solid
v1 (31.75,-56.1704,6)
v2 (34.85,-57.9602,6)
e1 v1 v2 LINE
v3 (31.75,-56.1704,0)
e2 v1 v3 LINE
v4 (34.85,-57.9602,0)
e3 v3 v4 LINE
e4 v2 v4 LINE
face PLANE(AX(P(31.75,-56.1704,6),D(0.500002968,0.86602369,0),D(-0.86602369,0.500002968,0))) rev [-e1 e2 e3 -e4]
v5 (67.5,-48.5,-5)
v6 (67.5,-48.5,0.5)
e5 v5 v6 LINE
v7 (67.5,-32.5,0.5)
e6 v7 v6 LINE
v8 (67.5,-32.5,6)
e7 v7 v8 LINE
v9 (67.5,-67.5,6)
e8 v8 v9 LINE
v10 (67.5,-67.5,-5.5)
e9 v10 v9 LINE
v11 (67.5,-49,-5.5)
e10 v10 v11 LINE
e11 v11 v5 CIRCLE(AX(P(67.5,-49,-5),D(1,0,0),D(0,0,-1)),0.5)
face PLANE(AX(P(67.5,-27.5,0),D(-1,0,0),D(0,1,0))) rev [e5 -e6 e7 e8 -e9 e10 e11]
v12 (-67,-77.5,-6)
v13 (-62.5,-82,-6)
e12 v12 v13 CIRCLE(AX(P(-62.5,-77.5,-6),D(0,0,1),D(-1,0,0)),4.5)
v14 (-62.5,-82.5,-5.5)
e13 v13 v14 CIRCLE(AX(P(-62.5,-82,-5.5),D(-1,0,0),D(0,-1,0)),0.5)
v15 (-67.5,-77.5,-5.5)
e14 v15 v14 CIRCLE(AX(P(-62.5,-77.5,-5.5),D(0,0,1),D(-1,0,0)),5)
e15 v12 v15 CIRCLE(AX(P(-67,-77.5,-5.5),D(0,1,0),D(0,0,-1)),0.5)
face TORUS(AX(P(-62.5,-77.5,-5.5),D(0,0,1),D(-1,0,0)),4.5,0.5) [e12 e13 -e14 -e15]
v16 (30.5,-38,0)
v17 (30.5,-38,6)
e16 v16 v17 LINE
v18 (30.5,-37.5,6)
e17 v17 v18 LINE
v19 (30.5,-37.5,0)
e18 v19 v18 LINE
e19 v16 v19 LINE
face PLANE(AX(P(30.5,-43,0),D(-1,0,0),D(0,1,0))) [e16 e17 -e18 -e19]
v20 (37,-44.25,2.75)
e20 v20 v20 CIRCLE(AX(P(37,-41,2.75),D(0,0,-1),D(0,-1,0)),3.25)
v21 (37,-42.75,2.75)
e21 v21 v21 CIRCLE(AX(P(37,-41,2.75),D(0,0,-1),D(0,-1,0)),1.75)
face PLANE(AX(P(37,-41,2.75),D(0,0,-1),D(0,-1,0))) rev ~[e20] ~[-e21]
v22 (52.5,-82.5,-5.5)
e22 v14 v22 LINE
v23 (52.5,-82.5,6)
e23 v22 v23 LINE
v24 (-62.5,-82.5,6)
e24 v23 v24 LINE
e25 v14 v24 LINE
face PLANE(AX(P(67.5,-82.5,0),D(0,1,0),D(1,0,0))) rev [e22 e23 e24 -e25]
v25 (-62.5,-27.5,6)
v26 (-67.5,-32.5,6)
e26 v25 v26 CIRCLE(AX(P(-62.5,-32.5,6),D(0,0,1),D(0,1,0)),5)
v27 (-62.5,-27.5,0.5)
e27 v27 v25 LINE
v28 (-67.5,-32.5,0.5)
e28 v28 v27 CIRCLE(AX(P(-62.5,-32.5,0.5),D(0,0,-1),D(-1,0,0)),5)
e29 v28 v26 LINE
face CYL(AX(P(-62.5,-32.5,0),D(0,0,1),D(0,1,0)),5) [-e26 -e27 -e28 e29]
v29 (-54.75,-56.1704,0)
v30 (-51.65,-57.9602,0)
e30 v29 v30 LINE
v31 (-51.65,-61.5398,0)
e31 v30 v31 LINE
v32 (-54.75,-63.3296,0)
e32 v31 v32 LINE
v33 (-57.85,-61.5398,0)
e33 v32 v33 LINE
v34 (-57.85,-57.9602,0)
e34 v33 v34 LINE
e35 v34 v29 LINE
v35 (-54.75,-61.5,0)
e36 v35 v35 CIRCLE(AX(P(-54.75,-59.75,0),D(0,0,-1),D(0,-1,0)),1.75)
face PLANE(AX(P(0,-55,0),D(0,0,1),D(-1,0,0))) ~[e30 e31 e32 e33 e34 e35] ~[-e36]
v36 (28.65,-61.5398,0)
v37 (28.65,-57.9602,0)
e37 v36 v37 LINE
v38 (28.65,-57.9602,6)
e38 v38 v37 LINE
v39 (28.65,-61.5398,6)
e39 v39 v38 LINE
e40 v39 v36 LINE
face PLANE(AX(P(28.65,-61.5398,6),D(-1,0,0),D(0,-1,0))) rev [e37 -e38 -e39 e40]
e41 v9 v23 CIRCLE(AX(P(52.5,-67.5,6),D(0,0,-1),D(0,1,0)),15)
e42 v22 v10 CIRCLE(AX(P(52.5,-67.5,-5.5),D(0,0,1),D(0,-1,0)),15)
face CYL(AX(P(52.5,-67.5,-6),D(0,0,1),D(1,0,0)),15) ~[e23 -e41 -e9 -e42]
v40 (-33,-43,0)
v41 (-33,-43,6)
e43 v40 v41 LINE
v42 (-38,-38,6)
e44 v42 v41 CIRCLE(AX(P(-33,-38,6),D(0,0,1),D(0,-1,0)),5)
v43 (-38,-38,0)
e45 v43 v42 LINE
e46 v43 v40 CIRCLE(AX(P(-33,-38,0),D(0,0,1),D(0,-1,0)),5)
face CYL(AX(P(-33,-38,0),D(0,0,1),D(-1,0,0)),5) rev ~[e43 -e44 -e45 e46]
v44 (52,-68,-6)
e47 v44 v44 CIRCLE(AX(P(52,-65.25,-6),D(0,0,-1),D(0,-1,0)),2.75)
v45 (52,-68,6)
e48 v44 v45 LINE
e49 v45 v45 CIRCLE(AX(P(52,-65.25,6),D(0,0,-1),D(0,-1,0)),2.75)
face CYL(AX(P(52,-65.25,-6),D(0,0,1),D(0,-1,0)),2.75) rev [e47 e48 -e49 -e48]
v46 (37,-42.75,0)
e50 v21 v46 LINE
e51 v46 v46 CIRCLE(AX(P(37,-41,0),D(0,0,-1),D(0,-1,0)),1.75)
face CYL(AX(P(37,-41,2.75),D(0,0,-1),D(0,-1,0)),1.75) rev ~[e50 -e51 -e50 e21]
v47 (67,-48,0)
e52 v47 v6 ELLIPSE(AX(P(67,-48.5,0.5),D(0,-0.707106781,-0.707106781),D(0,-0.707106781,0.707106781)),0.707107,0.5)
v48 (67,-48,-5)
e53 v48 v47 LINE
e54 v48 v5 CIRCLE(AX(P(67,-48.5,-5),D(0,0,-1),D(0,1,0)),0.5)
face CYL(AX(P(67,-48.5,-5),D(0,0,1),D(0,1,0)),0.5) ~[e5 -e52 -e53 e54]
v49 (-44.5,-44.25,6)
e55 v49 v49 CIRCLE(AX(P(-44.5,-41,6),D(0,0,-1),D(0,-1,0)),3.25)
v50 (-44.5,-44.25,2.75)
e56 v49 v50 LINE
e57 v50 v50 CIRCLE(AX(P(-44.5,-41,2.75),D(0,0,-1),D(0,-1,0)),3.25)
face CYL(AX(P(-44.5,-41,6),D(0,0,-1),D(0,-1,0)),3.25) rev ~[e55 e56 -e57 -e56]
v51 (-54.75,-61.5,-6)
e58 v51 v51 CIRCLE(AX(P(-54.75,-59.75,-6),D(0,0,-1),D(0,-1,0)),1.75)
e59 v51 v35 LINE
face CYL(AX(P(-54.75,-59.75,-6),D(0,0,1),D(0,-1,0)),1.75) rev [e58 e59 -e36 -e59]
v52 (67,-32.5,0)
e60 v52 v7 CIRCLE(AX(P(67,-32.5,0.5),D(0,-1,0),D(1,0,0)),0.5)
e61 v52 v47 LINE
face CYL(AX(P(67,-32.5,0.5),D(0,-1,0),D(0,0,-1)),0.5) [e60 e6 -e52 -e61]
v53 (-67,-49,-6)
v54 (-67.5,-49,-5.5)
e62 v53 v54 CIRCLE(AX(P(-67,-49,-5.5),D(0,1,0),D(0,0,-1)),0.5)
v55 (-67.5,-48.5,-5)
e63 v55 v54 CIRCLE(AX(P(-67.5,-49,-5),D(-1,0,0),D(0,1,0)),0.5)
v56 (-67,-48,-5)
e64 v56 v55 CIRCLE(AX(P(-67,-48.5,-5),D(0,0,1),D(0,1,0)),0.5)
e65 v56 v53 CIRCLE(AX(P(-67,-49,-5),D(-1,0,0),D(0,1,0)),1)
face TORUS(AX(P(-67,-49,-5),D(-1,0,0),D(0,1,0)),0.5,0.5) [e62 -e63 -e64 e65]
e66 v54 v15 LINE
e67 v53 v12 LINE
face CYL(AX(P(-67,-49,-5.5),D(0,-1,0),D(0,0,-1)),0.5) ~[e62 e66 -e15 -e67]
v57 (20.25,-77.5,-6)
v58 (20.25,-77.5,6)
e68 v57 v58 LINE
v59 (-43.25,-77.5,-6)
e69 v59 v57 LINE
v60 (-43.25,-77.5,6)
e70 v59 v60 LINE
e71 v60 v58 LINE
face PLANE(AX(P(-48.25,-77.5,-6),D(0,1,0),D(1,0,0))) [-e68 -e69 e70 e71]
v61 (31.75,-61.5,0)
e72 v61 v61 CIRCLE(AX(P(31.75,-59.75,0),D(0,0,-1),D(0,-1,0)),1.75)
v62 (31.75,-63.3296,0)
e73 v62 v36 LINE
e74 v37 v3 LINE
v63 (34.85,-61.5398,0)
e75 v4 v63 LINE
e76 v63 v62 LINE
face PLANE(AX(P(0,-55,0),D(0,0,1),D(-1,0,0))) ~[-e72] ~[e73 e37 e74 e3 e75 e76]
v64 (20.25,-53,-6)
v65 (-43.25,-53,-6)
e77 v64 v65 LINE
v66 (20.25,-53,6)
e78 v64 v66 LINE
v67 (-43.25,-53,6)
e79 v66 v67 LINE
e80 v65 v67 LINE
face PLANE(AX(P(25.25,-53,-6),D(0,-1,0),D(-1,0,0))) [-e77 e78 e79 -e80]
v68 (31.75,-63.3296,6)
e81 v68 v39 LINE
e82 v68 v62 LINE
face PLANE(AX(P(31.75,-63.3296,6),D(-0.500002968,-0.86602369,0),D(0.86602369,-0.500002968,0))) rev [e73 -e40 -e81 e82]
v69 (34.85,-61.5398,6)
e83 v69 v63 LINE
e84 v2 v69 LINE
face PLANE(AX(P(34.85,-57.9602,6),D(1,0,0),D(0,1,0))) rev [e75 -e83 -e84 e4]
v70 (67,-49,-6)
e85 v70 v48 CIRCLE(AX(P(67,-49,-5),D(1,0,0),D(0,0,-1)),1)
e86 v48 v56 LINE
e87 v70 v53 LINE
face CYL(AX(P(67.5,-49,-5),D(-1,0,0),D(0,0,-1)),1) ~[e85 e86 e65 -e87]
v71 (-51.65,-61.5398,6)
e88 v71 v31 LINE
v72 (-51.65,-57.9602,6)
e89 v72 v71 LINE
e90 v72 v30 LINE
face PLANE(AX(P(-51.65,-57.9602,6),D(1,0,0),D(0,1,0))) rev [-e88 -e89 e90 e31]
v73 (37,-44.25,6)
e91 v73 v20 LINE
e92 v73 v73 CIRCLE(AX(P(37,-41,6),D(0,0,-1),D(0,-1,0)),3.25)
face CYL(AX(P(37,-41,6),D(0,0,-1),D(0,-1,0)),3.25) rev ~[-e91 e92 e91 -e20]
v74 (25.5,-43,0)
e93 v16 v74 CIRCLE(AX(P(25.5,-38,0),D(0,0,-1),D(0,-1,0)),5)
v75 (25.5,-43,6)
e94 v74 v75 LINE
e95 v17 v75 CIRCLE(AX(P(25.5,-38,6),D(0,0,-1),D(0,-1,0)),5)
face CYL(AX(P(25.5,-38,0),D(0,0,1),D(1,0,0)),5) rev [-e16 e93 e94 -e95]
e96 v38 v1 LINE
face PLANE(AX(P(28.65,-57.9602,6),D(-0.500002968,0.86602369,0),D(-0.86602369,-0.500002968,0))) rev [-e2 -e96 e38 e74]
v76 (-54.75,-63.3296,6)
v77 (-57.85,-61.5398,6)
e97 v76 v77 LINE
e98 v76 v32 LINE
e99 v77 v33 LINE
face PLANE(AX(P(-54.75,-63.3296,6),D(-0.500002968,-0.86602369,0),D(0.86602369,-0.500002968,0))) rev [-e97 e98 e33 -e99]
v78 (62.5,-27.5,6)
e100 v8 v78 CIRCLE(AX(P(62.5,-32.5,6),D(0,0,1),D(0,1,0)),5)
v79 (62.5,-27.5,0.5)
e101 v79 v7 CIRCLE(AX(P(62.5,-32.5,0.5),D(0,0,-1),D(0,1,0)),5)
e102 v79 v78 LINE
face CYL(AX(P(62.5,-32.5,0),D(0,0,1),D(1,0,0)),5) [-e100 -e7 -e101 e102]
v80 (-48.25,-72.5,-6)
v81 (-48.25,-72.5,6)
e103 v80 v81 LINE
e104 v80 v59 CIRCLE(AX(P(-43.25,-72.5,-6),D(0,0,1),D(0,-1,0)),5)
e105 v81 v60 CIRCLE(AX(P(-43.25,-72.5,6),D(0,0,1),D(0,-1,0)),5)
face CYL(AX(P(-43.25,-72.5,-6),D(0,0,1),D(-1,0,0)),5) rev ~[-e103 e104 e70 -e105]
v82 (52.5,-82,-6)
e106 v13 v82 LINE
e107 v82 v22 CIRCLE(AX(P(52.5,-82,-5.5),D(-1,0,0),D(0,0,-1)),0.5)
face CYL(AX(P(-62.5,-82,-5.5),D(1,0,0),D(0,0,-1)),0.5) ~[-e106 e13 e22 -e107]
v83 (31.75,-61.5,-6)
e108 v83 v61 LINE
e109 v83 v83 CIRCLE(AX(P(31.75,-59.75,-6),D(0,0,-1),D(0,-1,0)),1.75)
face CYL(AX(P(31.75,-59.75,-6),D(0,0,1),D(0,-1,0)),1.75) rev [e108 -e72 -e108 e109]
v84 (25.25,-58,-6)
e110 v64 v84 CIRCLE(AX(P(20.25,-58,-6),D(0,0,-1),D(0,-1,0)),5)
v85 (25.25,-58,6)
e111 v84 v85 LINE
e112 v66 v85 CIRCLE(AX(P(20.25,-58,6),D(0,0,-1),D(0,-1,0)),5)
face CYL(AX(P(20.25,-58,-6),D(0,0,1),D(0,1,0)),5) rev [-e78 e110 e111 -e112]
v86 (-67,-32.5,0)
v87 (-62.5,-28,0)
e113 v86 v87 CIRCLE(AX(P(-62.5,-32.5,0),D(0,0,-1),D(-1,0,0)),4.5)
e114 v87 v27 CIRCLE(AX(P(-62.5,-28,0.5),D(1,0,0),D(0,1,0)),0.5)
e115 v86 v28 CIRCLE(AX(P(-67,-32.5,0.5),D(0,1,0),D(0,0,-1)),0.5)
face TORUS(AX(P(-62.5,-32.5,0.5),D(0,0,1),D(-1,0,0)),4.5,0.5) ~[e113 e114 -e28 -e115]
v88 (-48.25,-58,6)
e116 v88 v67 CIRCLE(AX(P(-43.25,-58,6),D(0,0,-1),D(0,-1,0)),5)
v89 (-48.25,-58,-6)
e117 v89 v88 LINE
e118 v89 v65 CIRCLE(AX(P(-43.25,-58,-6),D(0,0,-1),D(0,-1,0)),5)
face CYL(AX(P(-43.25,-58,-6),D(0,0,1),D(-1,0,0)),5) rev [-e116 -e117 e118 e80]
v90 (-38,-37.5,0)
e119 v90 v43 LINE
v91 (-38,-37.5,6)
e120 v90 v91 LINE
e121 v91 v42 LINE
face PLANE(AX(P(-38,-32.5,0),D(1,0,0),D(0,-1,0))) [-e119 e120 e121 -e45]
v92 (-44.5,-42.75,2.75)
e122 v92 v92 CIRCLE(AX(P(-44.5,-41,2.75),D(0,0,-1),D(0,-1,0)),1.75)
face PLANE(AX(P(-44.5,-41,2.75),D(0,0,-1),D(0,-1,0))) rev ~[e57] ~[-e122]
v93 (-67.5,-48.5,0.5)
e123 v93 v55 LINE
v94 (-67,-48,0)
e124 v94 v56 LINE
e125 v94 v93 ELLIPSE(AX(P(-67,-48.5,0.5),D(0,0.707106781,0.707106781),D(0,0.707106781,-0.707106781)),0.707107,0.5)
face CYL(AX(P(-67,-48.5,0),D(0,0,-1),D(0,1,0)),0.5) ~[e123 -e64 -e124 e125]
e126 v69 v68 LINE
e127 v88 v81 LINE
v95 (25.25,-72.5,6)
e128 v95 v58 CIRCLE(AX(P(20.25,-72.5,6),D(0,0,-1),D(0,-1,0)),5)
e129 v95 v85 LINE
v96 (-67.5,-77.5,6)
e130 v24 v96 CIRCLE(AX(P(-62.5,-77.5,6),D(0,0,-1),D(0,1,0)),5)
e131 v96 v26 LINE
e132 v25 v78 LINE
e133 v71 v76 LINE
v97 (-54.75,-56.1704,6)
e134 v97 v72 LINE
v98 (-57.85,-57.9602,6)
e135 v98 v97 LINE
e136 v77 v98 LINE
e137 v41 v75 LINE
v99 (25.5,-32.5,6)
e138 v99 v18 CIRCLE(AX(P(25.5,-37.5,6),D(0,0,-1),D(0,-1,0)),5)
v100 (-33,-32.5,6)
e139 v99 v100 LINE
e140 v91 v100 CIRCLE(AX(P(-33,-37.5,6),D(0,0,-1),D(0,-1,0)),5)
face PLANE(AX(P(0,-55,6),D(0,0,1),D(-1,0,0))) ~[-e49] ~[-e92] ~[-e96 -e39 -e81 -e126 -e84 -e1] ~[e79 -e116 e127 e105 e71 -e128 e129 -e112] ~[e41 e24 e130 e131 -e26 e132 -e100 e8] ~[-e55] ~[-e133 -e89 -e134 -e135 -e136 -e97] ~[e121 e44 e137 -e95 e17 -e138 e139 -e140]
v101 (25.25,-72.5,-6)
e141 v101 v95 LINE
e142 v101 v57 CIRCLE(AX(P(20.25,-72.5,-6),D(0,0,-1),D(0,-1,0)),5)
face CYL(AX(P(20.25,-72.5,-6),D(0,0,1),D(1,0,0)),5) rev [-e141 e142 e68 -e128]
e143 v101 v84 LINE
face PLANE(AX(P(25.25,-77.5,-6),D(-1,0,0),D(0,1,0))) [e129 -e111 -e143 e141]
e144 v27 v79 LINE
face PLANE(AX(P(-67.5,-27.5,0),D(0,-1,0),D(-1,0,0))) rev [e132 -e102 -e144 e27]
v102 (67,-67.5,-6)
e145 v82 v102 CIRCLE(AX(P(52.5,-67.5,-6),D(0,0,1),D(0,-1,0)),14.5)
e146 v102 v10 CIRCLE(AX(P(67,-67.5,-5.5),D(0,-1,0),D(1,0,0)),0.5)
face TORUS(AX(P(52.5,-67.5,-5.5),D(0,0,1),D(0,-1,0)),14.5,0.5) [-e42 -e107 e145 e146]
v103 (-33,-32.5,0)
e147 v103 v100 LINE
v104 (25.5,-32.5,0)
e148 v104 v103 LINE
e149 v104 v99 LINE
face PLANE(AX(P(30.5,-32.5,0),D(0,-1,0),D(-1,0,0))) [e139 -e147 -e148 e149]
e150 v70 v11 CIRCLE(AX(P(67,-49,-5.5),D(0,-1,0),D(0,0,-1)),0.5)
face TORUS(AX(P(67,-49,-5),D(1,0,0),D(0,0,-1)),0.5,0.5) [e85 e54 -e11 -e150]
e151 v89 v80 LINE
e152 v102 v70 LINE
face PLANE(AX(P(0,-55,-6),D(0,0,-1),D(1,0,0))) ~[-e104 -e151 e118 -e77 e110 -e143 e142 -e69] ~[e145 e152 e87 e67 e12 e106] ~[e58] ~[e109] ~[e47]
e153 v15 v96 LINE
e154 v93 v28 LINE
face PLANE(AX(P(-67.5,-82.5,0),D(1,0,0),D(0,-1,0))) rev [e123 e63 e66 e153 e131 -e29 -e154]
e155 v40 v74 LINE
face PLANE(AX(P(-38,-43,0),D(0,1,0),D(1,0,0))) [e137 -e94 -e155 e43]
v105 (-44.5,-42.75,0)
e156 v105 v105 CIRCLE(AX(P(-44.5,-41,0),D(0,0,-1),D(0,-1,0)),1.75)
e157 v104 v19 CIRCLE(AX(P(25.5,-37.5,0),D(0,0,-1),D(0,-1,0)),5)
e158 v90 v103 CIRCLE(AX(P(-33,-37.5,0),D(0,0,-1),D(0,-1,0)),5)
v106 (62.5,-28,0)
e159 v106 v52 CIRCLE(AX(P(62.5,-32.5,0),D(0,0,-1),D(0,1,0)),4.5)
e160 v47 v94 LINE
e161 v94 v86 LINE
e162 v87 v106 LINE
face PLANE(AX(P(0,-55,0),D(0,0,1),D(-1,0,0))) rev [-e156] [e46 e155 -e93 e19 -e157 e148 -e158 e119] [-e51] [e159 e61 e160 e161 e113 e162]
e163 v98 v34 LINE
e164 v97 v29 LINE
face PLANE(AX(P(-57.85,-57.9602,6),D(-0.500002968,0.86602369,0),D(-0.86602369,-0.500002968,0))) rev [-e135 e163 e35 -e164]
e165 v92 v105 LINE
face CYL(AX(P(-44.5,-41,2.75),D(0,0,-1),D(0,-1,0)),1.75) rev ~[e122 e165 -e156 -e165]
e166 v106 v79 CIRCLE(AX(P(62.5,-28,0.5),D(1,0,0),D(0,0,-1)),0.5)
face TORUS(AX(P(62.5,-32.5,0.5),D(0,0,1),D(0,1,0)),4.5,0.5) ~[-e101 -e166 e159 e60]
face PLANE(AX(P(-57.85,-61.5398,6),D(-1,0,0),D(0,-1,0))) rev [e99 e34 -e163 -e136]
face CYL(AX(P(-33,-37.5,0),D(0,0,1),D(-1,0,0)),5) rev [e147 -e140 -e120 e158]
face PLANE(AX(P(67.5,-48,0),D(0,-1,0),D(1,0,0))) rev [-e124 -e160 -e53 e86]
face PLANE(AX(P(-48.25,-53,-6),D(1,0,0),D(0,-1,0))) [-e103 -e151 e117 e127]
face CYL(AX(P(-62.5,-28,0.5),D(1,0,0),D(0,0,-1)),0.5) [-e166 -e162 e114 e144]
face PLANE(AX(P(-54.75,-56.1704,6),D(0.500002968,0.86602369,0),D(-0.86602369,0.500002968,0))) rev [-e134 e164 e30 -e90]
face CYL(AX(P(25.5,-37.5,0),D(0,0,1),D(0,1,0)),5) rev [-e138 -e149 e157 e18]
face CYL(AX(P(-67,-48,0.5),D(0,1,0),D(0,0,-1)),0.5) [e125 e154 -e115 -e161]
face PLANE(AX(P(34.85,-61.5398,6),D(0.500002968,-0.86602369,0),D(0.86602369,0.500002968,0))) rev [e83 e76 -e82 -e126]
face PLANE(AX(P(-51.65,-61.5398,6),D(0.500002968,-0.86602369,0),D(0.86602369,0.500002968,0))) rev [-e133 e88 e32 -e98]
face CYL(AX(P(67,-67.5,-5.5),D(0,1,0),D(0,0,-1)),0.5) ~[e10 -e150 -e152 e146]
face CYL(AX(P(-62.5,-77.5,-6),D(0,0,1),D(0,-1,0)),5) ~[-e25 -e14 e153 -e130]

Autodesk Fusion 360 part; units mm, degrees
sketch "Sketch1" plane through (0, 0, 0) normal (0, 0, 1) x (1, 0, 0)
  line L0 (67.5, 27.5) -> (-67.5, 27.5)
  line L1 (-67.5, 27.5) -> (-67.5, -27.5)
  line L2 (-67.5, -27.5) -> (67.5, -27.5)
  line L3 (67.5, -27.5) -> (67.5, 27.5)
  line L4 (67.5, 27.5) -> (-67.5, -27.5) construction
  line L5 (-67.5, 27.5) -> (67.5, -27.5) construction
  dimension "d1" = 55
  dimension "d2" = 135
extrude "Extrude1" add sketch "Sketch1" along normal blind 6 makes body 1
sketch "Sketch3" plane through (0, 0, 0) normal (0, 0, -1) x (-1, 0, 0)
  line L0 (-67.5, 27.5) -> (-67.5, -27.5)
  line L1 (-67.5, -27.5) -> (67.5, -27.5)
  line L2 (67.5, -27.5) -> (67.5, 27.5)
  line L3 (67.5, 27.5) -> (-67.5, 27.5)
  line L4 (-67.5, -7) -> (67.5, -7)
  line L5 (67.5, -7) -> (67.5, 27.5)
  line L6 (67.5, 27.5) -> (-67.5, 27.5)
  line L7 (-67.5, 27.5) -> (-67.5, -7)
  line L8 (-67.5, -7) -> (67.5, 27.5) construction
  line L9 (67.5, -7) -> (-67.5, 27.5) construction
  point P0 (0, 10.25)
  dimension "d14" = 34.5
  dimension "d30" = 20.5
extrude "Extrude2" add sketch "Sketch3" along normal blind 6 contours L0 L2 L3 L4 L5 L6 L7 bodies 1
sketch "Sketch4" plane through (0, 0, -6) normal (0, 0, -1) x (-1, 0, 0)
  line L0 (-67.5, 27.5) -> (-67.5, -7)
  line L1 (-67.5, -7) -> (67.5, -7)
  line L2 (67.5, -7) -> (67.5, 27.5)
  line L3 (67.5, 27.5) -> (-67.5, 27.5)
  line L4 (-67.5, 4.75) -> (67.5, 4.75) construction
  point P0 (54.75, 4.75)
  point P1 (-31.75, 4.75)
  dimension "d19" = 12.75
  dimension "d20" = 86.5
  dimension "d31" = 11.75
hole "Hole2" at (31.75, 4.75, -6) at (-54.75, 4.75, -6) direction (0, 0, 1) diameter 3.5 end through all bodies 1 1
sketch "Sketch5" plane through (0, 0, 6) normal (0, 0, 1) x (1, 0, 0)
  circle A0 centre (31.75, 4.75) radius 1.75
  circle A1 centre (-54.75, 4.75) radius 1.75
  line L0 (67.5, -27.5) -> (67.5, 27.5)
  line L1 (67.5, 27.5) -> (-67.5, 27.5)
  line L2 (-67.5, 27.5) -> (-67.5, -27.5)
  line L3 (-67.5, -27.5) -> (67.5, -27.5)
  line L4 (-51.65, 6.5398) -> (-54.75, 8.3296)
  line L5 (-54.75, 8.3296) -> (-57.85, 6.5398)
  line L6 (-57.85, 6.5398) -> (-57.85, 2.9602)
  line L7 (-57.85, 2.9602) -> (-54.75, 1.1704)
  line L8 (-54.75, 1.1704) -> (-51.65, 2.9602)
  line L9 (-51.65, 2.9602) -> (-51.65, 6.5398)
  line L10 (34.85, 2.9602) -> (34.85, 6.5398)
  line L11 (34.85, 6.5398) -> (31.75, 8.3296)
  line L12 (31.75, 8.3296) -> (28.65, 6.5398)
  line L13 (28.65, 6.5398) -> (28.65, 2.9602)
  line L14 (28.65, 2.9602) -> (31.75, 1.1704)
  line L15 (31.75, 1.1704) -> (34.85, 2.9602)
  point P0 (-54.75, 4.75)
  point P1 (31.75, 4.75)
  dimension "d24" = 6.2
  dimension "d25" = 6.2
extrude "Extrude3" cut sketch "Sketch5" against normal blind 6 contours L4 L5 L6 L7 L8 L9 | L10 L11 L12 L13 L14 L15 bodies 1
sketch "Sketch6" plane through (0, 0, -6) normal (0, 0, -1) x (-1, 0, 0)
  circle A0 centre (-31.75, 4.75) radius 1.75
  circle A1 centre (54.75, 4.75) radius 1.75
  line L0 (-67.5, 27.5) -> (-67.5, -7)
  line L1 (-67.5, -7) -> (67.5, -7)
  line L2 (67.5, -7) -> (67.5, 27.5)
  line L3 (67.5, 27.5) -> (-67.5, 27.5)
  line L4 (59.5, -7) -> (-36.5, -7) construction
  line L5 (-36.5, -7) -> (-36.5, 28) construction
  line L6 (-36.5, 28) -> (59.5, 28) construction
  line L7 (59.5, 28) -> (59.5, -7) construction
  line L8 (59.5, -7) -> (-36.5, 28) construction
  line L9 (-36.5, -7) -> (59.5, 28) construction
  line L10 (11.5, 50.5144) -> (11.5, -41.0982) construction
  line L11 (-52, 27.5) -> (-52, -7) construction
  line L12 (-36.5, 10.25) -> (-67.5, 10.25) construction
  point P0 (11.5, 10.5)
  point P1 (-52, 10.25)
  dimension "d28" = 35
  dimension "d29" = 96
hole "Hole3" at (52, 10.25, -6) direction (0, 0, 1) diameter 5.5 end through all bodies 1 1
fillet "Fillet1" radius 5 2 edges at (67.5, -27.5, 3) (-67.5, -27.5, 3) on bodies 1
fillet "Fillet1" radius 5 1 edges at (-67.5, 27.5, 0) on bodies 1
fillet "Fillet3" radius 15 1 edges at (67.5, 27.5, 0) on bodies 1
ref_plane "WorkPlane1" through (0, -27.5, 3) normal (0, -1, 0) x (1, 0, 0)
mirror "Mirror1" about plane through (0, -27.5, 3) normal (0, -1, 0) of bodies 1 makes body 2
sketch "Sketch8" plane through (0, 0, 6) normal (0, 0, 1) x (1, 0, 0)
  arc A0 (52.5, -82.5) -> (67.5, -67.5) centre (52.5, -67.5) ccw
  line L0 (67.5, -67.5) -> (67.5, -32.5)
  arc A1 (67.5, -32.5) -> (62.5, -27.5) centre (62.5, -32.5) ccw
  line L1 (62.5, -27.5) -> (-62.5, -27.5)
  arc A2 (-62.5, -27.5) -> (-67.5, -32.5) centre (-62.5, -32.5) ccw
  line L2 (-67.5, -32.5) -> (-67.5, -77.5)
  arc A3 (-67.5, -77.5) -> (-62.5, -82.5) centre (-62.5, -77.5) ccw
  line L3 (-62.5, -82.5) -> (52.5, -82.5)
  circle A4 centre (52, -65.25) radius 2.75
  line L4 (-51.65, -61.5398) -> (-54.75, -63.3296)
  line L5 (-54.75, -63.3296) -> (-57.85, -61.5398)
  line L6 (-57.85, -61.5398) -> (-57.85, -57.9602)
  line L7 (-57.85, -57.9602) -> (-54.75, -56.1704)
  line L8 (-54.75, -56.1704) -> (-51.65, -57.9602)
  line L9 (-51.65, -57.9602) -> (-51.65, -61.5398)
  line L10 (34.85, -57.9602) -> (34.85, -61.5398)
  line L11 (34.85, -61.5398) -> (31.75, -63.3296)
  line L12 (31.75, -63.3296) -> (28.65, -61.5398)
  line L13 (28.65, -61.5398) -> (28.65, -57.9602)
  line L14 (28.65, -57.9602) -> (31.75, -56.1704)
  line L15 (31.75, -56.1704) -> (34.85, -57.9602)
  arc A5 (-62.5, -27.5) -> (-67.5, -32.5) centre (-62.5, -32.5) ccw
  line L16 (-62.5, -27.5) -> (62.5, -27.5)
  arc A6 (67.5, -32.5) -> (62.5, -27.5) centre (62.5, -32.5) ccw
  line L17 (67.5, -32.5) -> (67.5, -48)
  line L18 (67.5, -48) -> (-67.5, -48)
  line L19 (-67.5, -48) -> (-67.5, -32.5)
  point P0 (-44.5, -41)
  point P1 (37, -41)
  dimension "d58" = 7
  dimension "d60" = 7
  dimension "d61" = 30.5
  dimension "d67" = 81.5
hole "Hole4" at (-44.5, -41, 6) at (37, -41, 6) direction (0, 0, -1) diameter 3.5 end through all counterbore diameter 6.5 counterbore depth 3.25 bodies 2 2
fillet "Fillet4" radius 1 1 edges at (0, -48, -6) on bodies 2
fillet "Fillet5" radius 0.5 14 edges at (-67.5, -40.25, 0) (-66.0355, -28.9645, 0) (0, -27.5, 0) (66.0355, -28.9645, 0) (67.5, -40.25, 0) (-67.5, -48, -2.5) (-67.5, -48.2929, -5.7071) (-67.5, -63.25, -6) (-66.0355, -81.0355, -6) (-5, -82.5, -6) (63.1066, -78.1066, -6) (67.5, -58.25, -6) (67.5, -48.2929, -5.7071) (67.5, -48, -2.5) on bodies 2
sketch "Sketch9" plane through (0, 0, -6) normal (0, 0, -1) x (-1, 0, 0)
  circle A0 centre (-52, -65.25) radius 2.75
  circle A1 centre (-31.75, -59.75) radius 1.75
  circle A2 centre (54.75, -59.75) radius 1.75
  line L0 (-67, -49) -> (-67, -67.5)
  arc A3 (-67, -67.5) -> (-52.5, -82) centre (-52.5, -67.5) ccw
  line L1 (-52.5, -82) -> (62.5, -82)
  arc A4 (62.5, -82) -> (67, -77.5) centre (62.5, -77.5) ccw
  line L2 (67, -77.5) -> (67, -49)
  line L3 (67, -49) -> (-67, -49)
  line L4 (48.25, -77.5) -> (-25.25, -77.5)
  line L5 (-25.25, -77.5) -> (-25.25, -53)
  line L6 (-25.25, -53) -> (48.25, -53)
  line L7 (48.25, -53) -> (48.25, -77.5)
  line L8 (48.25, -77.5) -> (-25.25, -53) construction
  line L9 (-25.25, -77.5) -> (48.25, -53) construction
  line L10 (67, -48) -> (-67, -48)
  line L11 (-52.5, -82.5) -> (62.5, -82.5)
  point P0 (11.5, -65.25)
  dimension "d68" = 5
  dimension "d69" = 5
  dimension "d71" = 6.5
  dimension "d82" = 6.5
extrude "Extrude4" cut sketch "Sketch9" against normal through all contours L4 L5 L6 L7 bodies 2
fillet "Fillet6" radius 5 4 edges at (25.25, -53, 0) (25.25, -77.5, 0) (-48.25, -77.5, 0) (-48.25, -53, 0) on bodies 2
sketch "Sketch10" plane through (0, 0, 0) normal (0, 0, -1) x (-1, 0, 0)
  line L0 (-67, -32.5) -> (-67, -48)
  line L1 (-67, -48) -> (67, -48)
  line L2 (67, -48) -> (67, -32.5)
  arc A0 (67, -32.5) -> (62.5, -28) centre (62.5, -32.5) ccw
  line L3 (62.5, -28) -> (-62.5, -28)
  arc A1 (-62.5, -28) -> (-67, -32.5) centre (-62.5, -32.5) ccw
  circle A2 centre (44.5, -41) radius 1.75
  circle A3 centre (-37, -41) radius 1.75
  line L4 (38, -43) -> (-30.5, -43)
  line L5 (-30.5, -43) -> (-30.5, -32.5)
  line L6 (-30.5, -32.5) -> (38, -32.5)
  line L7 (38, -32.5) -> (38, -43)
  line L8 (38, -43) -> (-30.5, -32.5) construction
  line L9 (-30.5, -43) -> (38, -32.5) construction
  line L10 (62.5, -27.5) -> (-62.5, -27.5)
  point P0 (3.75, -37.75)
  dimension "d75" = 5
  dimension "d76" = 5
  dimension "d77" = 6.5
  dimension "d78" = 6.5
extrude "Extrude5" cut sketch "Sketch10" against normal through all contours L4 L5 L6 L7 bodies 2
fillet "Fillet7" radius 5 4 edges at (-38, -43, 3) (-38, -32.5, 3) (30.5, -32.5, 3) (30.5, -43, 3) on bodies 2
hidden bodies 1
equation "d19 = 15 mm - 2.25 mm"
equation "d20 = 82 mm + 4.5 mm"
equation "d25 = d24"
equation "d31 = 9.5 mm + 2.25 mm"
equation "d69 = d68"
equation "d71 = d82"
equation "d76 = d75"
equation "d78 = d77"
